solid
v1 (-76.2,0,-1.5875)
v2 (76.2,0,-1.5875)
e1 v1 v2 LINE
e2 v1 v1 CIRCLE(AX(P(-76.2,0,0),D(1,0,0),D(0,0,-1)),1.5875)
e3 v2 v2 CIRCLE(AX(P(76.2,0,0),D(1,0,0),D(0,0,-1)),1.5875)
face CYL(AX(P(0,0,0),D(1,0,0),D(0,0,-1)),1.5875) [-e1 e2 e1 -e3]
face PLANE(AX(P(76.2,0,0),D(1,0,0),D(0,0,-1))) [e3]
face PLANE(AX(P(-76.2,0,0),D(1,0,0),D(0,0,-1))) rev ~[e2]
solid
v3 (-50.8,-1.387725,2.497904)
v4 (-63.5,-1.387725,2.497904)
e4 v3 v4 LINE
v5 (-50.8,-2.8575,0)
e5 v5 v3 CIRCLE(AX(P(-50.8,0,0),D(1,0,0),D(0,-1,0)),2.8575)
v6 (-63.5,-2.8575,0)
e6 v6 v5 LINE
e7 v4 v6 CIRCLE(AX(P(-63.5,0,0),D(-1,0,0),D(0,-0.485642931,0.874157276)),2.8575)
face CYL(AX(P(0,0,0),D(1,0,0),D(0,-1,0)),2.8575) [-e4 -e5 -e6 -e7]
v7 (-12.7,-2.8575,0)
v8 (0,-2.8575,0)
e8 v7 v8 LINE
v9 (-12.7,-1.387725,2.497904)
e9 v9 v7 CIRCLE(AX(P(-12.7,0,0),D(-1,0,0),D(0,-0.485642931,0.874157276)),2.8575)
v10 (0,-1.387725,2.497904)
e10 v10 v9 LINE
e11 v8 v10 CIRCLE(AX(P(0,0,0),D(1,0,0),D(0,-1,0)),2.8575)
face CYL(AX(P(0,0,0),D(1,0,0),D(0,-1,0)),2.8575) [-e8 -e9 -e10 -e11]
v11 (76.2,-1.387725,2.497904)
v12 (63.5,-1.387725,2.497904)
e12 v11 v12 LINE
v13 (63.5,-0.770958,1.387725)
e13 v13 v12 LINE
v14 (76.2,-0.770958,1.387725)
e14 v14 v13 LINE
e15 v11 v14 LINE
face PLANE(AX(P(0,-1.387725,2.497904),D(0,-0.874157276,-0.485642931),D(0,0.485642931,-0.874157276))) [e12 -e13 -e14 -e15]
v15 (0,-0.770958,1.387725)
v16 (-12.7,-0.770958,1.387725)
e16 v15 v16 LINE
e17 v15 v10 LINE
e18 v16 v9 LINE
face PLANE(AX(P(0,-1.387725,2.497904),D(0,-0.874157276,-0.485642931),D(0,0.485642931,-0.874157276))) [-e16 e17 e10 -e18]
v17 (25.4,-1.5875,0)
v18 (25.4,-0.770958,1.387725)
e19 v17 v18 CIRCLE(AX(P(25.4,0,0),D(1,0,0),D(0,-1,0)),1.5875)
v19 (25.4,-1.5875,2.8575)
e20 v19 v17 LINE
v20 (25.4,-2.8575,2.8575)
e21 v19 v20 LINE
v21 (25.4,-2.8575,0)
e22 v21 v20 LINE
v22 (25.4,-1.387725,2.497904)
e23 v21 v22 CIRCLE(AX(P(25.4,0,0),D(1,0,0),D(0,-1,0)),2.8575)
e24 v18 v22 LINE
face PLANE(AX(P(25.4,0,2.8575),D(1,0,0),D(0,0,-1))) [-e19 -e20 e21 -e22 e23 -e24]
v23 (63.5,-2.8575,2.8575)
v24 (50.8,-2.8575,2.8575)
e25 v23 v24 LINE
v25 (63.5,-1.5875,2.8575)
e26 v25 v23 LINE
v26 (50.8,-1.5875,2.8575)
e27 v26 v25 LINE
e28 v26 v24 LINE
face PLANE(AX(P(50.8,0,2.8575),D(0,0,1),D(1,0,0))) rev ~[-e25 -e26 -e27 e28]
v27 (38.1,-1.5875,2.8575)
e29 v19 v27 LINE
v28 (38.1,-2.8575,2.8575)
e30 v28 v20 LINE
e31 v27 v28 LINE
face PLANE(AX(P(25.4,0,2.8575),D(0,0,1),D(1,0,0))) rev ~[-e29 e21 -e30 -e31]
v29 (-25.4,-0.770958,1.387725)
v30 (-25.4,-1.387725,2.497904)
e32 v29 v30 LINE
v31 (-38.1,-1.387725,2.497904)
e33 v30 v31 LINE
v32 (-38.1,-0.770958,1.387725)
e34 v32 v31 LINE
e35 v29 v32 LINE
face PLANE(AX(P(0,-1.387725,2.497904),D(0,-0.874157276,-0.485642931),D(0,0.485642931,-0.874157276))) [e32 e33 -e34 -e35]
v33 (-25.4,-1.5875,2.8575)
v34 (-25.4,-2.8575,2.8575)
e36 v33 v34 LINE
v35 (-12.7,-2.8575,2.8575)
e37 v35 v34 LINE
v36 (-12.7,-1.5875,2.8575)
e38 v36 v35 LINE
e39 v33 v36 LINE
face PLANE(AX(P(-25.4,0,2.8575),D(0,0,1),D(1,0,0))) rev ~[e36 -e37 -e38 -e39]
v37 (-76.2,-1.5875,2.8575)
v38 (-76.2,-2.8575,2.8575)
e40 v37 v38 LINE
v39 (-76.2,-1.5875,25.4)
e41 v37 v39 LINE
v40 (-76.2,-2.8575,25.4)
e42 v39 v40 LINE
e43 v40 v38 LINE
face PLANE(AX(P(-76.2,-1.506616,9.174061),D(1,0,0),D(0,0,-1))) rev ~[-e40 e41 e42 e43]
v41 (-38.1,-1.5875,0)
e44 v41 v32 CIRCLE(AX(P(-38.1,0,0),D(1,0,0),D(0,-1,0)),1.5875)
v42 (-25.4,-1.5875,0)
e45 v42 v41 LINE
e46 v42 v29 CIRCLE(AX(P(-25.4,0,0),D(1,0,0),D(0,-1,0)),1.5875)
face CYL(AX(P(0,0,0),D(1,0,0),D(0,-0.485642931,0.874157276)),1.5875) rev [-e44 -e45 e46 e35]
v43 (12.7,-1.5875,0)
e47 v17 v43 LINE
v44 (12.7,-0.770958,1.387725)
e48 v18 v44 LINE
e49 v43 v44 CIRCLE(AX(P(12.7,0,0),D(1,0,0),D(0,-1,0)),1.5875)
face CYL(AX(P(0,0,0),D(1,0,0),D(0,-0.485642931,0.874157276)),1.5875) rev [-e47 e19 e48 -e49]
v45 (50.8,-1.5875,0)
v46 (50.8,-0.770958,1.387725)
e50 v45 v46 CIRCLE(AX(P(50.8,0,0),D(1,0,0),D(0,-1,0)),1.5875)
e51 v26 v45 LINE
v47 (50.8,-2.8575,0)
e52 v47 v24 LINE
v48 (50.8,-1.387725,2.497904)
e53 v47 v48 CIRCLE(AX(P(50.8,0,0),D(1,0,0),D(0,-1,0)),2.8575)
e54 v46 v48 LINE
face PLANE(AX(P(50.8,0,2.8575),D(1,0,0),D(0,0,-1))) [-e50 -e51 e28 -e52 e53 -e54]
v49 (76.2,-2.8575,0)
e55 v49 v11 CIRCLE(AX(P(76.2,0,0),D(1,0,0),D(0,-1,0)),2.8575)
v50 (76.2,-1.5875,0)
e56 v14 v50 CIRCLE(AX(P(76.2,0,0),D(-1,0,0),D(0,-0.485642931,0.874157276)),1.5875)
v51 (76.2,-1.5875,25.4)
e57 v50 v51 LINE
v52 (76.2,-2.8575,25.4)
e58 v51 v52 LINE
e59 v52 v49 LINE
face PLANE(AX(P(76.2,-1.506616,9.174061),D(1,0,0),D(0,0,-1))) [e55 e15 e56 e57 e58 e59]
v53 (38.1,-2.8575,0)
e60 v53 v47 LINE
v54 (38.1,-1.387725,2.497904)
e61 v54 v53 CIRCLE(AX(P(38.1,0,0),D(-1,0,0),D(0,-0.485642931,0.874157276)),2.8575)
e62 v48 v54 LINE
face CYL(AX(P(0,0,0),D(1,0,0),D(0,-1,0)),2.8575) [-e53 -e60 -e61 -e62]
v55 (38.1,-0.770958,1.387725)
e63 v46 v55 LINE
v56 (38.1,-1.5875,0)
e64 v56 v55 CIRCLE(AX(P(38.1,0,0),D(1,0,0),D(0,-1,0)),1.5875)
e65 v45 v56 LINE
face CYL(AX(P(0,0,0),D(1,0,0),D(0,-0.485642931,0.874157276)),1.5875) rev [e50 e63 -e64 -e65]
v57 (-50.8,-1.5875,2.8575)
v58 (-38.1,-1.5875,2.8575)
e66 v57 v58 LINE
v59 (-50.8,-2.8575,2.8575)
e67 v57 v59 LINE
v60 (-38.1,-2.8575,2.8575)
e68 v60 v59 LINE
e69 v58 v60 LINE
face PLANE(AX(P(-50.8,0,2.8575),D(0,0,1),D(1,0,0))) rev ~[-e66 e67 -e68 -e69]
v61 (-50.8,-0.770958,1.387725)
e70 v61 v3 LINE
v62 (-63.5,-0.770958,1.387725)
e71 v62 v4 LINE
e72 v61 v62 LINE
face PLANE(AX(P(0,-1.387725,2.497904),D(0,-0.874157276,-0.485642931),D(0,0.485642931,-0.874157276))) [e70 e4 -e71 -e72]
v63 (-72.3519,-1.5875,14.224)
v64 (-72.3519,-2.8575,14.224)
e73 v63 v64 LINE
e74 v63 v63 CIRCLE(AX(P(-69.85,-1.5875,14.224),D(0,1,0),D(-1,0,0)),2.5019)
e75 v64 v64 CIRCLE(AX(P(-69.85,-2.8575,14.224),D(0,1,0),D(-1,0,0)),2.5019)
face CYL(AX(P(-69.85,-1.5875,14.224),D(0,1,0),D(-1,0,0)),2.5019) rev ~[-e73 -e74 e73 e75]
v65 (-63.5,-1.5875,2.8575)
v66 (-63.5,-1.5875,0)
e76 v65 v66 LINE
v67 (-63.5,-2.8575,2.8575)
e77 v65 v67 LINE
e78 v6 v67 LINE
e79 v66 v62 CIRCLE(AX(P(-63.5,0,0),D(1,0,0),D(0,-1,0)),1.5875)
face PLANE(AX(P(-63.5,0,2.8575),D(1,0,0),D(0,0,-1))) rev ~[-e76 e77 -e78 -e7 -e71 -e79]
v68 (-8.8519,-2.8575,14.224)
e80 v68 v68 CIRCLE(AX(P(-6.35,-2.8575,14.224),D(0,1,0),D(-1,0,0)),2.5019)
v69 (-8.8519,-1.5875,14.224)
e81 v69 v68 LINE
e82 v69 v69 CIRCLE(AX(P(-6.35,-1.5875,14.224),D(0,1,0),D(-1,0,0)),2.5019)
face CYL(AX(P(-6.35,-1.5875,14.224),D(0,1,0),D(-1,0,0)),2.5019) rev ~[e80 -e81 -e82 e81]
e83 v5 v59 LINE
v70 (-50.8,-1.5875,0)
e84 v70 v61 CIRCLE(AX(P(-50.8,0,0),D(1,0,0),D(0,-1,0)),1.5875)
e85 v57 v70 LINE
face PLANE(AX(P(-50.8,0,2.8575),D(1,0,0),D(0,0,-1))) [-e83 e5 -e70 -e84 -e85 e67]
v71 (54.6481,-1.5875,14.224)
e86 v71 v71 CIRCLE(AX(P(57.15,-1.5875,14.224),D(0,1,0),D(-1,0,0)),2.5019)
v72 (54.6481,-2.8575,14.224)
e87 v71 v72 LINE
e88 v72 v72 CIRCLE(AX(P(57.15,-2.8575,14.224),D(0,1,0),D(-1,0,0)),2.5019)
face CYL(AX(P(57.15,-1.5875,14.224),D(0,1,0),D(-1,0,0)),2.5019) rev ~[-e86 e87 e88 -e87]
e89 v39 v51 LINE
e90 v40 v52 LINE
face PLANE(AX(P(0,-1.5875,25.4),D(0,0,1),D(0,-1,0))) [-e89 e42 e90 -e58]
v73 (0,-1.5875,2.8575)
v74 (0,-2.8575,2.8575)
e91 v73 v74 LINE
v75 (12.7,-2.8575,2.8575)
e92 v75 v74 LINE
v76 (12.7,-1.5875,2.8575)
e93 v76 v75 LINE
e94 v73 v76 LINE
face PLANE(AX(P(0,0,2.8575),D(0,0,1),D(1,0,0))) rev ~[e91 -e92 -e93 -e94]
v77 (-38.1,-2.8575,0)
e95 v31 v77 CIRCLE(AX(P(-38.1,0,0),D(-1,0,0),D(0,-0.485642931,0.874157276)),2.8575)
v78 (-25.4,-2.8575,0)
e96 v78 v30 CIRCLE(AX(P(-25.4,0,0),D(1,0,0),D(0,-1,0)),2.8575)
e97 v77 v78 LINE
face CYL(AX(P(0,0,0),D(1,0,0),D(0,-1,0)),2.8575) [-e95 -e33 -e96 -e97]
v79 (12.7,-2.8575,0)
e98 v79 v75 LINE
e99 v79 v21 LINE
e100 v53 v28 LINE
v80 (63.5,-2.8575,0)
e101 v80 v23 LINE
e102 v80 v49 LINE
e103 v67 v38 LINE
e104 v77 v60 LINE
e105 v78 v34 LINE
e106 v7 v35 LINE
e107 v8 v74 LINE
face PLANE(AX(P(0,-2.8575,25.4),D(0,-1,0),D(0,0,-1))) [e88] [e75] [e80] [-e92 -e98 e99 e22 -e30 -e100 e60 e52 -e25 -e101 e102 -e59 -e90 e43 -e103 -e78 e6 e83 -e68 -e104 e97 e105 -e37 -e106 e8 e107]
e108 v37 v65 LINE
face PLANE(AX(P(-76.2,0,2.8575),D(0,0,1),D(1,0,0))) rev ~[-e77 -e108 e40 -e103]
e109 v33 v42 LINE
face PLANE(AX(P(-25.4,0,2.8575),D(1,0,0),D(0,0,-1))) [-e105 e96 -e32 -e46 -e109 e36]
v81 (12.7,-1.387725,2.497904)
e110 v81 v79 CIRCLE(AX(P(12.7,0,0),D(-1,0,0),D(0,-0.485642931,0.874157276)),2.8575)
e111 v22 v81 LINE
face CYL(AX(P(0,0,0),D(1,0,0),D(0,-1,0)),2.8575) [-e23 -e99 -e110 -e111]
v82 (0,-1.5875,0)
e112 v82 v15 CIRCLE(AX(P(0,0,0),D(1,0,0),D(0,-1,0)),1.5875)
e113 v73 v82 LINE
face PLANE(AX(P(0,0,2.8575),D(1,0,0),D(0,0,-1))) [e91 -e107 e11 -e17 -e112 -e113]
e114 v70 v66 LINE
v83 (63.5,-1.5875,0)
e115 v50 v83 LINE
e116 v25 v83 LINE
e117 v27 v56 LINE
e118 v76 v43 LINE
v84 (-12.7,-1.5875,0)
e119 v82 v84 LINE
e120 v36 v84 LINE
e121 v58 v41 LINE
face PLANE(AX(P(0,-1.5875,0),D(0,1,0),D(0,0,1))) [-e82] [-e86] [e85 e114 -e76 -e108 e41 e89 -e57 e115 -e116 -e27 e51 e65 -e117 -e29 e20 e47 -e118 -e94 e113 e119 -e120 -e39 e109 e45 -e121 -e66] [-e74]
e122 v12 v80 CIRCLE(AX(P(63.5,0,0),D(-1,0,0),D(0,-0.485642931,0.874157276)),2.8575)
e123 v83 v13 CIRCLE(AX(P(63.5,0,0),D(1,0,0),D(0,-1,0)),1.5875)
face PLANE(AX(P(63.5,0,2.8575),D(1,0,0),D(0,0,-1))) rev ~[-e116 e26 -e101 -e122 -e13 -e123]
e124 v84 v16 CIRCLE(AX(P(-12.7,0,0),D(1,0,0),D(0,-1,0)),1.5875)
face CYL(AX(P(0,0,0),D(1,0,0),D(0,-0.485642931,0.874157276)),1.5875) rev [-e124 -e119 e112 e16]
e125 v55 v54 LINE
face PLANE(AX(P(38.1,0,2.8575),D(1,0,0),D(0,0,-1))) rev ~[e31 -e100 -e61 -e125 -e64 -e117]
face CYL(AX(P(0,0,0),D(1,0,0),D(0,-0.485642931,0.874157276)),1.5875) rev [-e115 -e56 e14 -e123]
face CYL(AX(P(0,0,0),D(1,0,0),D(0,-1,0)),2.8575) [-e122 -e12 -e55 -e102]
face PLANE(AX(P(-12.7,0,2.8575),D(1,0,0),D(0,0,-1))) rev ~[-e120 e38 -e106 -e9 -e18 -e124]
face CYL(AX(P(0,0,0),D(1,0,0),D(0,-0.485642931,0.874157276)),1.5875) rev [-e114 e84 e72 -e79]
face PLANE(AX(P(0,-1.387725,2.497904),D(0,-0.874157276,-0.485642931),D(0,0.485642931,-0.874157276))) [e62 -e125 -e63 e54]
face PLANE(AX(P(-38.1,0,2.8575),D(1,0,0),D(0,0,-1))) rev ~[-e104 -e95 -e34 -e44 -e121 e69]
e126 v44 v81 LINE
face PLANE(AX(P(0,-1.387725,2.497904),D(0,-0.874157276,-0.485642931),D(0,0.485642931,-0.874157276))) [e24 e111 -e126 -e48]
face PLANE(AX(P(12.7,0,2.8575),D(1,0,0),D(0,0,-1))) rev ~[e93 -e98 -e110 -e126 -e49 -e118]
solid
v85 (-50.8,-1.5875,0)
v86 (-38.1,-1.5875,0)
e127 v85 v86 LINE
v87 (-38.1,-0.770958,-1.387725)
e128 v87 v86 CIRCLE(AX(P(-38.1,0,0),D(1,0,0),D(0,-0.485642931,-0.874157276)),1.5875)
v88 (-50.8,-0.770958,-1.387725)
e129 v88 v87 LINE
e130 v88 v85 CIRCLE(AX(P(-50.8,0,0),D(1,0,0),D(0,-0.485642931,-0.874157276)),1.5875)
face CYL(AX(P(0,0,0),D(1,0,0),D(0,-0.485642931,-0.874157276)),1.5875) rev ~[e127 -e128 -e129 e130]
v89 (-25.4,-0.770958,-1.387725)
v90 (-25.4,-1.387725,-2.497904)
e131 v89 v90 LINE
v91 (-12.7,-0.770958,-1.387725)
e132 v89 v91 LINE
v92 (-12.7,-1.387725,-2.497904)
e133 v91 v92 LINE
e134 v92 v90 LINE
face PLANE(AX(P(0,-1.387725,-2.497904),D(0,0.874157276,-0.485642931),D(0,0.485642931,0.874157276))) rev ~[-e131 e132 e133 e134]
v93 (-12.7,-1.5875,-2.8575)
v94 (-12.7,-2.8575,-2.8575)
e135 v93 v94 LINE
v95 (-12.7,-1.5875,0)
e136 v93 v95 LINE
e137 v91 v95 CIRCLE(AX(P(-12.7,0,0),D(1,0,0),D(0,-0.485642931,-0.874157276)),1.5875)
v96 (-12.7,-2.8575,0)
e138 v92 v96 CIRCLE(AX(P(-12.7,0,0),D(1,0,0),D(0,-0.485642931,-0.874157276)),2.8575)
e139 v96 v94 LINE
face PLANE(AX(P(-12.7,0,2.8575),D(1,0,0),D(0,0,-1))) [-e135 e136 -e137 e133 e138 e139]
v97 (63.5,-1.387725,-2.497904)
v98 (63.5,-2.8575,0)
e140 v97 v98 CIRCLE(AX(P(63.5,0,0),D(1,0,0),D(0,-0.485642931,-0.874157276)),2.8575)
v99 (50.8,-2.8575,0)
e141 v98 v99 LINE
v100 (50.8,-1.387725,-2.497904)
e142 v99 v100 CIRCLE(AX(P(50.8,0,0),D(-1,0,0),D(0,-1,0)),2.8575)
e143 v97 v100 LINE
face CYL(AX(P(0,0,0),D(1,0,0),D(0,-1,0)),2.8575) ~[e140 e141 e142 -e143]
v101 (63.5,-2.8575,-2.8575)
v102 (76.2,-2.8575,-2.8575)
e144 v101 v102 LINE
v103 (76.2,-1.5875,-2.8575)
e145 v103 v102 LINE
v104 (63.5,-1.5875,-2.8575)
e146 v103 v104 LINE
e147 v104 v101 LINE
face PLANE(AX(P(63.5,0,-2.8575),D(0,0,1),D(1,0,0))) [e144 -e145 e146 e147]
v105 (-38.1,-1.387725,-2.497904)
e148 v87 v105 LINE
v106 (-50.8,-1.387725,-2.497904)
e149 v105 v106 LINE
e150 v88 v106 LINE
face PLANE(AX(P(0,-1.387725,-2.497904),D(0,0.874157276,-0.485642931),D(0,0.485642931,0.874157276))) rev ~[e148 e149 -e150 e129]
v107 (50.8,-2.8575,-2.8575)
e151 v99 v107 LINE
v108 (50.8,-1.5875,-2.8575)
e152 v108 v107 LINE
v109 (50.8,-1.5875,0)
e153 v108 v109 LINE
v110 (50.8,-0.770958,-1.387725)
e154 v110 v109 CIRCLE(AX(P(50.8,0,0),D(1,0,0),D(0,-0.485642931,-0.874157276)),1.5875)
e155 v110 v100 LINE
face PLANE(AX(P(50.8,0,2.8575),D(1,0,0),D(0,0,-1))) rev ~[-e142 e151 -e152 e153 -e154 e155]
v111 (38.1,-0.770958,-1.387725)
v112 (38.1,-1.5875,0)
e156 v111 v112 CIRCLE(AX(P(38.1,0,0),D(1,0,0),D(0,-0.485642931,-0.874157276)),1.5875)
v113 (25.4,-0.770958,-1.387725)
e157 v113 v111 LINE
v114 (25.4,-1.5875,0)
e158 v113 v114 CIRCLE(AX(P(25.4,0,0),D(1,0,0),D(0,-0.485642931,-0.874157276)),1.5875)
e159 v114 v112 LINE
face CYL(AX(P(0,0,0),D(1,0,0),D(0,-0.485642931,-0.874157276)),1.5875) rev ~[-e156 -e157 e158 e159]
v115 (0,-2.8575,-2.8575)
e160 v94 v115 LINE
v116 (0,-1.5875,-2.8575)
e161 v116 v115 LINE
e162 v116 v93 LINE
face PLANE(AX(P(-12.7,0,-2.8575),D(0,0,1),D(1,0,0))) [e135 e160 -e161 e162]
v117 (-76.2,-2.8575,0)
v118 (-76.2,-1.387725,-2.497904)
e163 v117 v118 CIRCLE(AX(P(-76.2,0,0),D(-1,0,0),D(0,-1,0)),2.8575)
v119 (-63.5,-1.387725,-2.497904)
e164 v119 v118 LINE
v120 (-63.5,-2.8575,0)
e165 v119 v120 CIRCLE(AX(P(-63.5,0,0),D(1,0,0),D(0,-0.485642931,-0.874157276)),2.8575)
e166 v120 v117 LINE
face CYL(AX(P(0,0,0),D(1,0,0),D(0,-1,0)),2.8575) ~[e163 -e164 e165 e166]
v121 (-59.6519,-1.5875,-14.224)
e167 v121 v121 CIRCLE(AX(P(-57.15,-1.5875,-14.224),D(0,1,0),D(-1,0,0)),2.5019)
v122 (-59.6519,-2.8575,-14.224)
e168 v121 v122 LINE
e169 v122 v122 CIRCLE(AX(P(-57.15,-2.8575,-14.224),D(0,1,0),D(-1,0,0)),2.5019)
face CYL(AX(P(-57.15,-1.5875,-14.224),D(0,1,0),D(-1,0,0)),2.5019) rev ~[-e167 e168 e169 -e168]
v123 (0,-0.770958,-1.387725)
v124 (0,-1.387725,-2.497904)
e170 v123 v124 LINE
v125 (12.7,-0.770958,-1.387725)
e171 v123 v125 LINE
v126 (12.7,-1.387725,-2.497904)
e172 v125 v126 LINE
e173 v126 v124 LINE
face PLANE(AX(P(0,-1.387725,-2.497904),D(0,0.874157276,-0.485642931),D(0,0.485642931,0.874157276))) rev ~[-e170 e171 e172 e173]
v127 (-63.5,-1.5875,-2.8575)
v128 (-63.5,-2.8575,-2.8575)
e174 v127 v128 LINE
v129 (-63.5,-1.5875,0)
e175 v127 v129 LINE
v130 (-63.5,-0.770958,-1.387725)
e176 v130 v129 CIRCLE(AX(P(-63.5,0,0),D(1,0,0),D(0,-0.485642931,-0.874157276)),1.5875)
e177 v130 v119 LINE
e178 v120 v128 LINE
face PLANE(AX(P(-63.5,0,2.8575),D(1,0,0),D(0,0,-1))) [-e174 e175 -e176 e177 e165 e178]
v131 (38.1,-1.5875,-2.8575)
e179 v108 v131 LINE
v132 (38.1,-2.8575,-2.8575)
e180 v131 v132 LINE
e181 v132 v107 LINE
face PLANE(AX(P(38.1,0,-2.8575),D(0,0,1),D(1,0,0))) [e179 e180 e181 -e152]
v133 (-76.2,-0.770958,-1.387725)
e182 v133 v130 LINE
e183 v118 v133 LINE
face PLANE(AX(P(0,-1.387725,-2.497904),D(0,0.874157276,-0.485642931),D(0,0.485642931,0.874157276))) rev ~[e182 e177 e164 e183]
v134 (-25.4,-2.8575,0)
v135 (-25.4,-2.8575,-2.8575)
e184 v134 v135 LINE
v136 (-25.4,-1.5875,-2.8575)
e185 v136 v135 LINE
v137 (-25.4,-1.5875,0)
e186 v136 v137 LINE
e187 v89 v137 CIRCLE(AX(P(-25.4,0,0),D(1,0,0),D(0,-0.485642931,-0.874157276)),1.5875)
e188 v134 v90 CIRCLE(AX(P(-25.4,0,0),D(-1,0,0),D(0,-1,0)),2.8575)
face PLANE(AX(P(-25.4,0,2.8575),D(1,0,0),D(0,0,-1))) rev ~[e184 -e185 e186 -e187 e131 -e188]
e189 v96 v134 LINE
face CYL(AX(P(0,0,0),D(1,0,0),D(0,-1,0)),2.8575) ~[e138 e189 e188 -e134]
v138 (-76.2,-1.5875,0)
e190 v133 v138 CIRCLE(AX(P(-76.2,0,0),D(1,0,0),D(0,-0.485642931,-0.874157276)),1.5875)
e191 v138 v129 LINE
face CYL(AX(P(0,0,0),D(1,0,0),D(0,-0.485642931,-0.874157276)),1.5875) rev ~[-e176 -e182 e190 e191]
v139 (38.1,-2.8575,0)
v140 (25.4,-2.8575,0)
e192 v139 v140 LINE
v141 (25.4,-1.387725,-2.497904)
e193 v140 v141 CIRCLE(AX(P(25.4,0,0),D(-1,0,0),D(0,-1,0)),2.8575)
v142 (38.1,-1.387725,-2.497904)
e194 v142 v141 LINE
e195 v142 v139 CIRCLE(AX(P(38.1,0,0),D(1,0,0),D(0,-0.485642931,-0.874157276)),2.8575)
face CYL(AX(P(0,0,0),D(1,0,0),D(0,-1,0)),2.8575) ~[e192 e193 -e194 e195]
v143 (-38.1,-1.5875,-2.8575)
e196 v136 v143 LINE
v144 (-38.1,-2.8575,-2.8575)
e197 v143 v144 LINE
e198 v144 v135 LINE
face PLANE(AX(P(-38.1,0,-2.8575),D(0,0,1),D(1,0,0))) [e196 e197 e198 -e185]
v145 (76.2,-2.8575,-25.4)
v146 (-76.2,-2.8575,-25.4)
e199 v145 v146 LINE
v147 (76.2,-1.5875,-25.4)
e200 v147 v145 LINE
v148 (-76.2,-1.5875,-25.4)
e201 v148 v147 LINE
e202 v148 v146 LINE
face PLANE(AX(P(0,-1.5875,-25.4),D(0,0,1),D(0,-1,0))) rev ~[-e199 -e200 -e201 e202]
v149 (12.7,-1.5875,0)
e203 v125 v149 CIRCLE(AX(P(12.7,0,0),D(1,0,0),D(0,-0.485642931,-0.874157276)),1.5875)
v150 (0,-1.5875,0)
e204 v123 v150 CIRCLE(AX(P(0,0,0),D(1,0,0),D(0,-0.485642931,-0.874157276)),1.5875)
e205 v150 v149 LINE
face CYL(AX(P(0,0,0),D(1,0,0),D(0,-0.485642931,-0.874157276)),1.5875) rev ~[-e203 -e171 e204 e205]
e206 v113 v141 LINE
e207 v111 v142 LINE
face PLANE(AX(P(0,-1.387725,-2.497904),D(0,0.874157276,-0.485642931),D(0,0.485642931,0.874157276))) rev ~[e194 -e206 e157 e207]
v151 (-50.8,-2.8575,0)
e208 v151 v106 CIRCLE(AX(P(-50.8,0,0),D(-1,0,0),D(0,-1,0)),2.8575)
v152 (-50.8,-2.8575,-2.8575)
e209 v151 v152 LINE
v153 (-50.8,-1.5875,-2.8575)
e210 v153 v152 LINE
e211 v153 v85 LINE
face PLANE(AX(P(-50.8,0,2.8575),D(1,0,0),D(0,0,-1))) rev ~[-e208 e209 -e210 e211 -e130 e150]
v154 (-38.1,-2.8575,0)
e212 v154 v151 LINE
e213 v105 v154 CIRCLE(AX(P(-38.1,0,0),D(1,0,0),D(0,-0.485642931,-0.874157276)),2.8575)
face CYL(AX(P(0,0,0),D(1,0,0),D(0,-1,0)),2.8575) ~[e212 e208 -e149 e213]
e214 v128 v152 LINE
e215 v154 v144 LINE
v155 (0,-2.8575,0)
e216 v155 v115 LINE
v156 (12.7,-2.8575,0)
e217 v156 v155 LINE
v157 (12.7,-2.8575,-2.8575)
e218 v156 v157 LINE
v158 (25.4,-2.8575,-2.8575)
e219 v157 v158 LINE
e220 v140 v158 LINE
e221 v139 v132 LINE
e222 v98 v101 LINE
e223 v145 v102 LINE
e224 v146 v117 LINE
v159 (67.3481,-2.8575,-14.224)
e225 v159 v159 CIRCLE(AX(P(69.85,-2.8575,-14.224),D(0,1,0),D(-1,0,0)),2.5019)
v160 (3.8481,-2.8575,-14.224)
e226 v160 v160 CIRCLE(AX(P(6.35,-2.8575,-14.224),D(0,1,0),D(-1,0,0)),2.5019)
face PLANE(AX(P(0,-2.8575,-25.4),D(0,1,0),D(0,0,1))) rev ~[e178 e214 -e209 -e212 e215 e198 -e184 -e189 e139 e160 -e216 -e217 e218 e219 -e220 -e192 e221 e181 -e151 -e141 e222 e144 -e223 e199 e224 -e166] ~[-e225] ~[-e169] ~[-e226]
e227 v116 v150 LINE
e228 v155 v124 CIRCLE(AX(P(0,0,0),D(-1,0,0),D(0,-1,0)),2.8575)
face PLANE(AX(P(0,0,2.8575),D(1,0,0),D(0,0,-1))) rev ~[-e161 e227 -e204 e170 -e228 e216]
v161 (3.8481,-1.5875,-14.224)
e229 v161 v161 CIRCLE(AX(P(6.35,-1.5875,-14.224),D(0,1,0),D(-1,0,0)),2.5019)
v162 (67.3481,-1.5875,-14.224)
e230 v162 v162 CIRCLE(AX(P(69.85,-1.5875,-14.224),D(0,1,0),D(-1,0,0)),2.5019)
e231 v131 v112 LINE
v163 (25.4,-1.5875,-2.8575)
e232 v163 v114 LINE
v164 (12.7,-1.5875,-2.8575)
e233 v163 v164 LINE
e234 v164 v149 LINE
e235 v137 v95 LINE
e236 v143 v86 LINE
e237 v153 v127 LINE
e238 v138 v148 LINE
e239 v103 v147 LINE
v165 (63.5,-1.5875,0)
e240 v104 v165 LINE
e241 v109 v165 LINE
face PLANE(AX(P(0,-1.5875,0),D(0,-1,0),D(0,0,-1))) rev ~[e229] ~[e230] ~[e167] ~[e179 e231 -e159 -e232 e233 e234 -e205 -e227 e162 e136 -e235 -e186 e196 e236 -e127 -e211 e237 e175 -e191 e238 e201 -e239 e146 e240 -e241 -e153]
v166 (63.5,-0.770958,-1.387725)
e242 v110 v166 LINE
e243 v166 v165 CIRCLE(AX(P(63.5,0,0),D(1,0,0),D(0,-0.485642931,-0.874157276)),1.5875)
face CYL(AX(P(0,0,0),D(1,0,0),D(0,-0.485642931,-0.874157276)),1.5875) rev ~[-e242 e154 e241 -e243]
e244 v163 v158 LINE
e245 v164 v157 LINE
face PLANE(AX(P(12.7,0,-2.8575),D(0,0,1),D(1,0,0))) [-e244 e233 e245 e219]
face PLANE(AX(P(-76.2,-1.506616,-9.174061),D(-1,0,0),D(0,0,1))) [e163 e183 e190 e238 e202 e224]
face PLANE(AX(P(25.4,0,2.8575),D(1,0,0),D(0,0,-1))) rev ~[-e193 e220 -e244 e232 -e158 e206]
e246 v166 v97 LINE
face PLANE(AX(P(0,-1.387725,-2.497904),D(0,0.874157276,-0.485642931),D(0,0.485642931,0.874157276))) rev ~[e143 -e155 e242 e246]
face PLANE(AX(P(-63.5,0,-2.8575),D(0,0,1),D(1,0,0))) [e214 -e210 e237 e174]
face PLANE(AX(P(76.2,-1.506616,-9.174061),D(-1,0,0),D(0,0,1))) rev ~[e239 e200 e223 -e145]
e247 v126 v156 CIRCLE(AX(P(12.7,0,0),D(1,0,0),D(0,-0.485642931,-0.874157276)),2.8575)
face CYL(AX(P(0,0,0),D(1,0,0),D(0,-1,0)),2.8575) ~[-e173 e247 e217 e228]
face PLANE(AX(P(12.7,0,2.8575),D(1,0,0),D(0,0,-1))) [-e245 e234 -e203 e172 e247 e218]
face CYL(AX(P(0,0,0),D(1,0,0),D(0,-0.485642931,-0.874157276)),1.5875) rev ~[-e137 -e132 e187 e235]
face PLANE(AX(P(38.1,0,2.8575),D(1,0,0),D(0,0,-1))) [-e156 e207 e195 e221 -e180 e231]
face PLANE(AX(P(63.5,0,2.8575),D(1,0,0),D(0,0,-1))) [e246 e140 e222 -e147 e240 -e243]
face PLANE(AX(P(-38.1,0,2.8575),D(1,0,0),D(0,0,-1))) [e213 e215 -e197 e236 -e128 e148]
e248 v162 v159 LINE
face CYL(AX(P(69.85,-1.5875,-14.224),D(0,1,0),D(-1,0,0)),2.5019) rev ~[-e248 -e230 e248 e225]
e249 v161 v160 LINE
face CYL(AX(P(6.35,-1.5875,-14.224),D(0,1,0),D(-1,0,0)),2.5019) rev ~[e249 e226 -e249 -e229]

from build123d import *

# Parameters (mm, degrees)
LEFT_LEAF_DEPTH         = 76.2
SKETCH2_W               = 12.7
SKETCH2_H               = 5.715
CUT_EXTRUDE1_DEPTH      = 3.8575
CUT_EXTRUDE1_DEPTH_BACK = 3.8575
RIGHT_LEAF_DEPTH        = 76.2
SKETCH9_W               = 12.7
SKETCH9_H               = 5.715
CUT_EXTRUDE2_DEPTH      = 3.8575
CUT_EXTRUDE2_DEPTH_BACK = 3.8575
SKETCH10_R              = 1.5875
EXTRUDE1_DEPTH          = 76.2
SKETCH11_R              = 2.5019
CUT_EXTRUDE3_DEPTH      = 2.27


with BuildPart() as part:
    # Sketch1 → Left Leaf (new body, symmetric)
    with BuildSketch(Plane(origin=(0, 0, 0), x_dir=(0, 0, -1), z_dir=(1, 0, 0))):
        with BuildLine():
            Line((0, -1.5875), (-25.4, -1.5875))
            Line((-25.4, -1.5875), (-25.4, -2.8575))
            Line((-25.4, -2.8575), (0, -2.8575))
            ThreePointArc((0, -2.8575), (1.449117488, 2.462796125), (-2.497904417, -1.387724676))
            Line((-2.497904417, -1.387724676), (-1.387724676, -0.770958153))
            ThreePointArc((-1.387724676, -0.770958153), (0.805065271, 1.36822007), (0, -1.5875))
        make_face()
    extrude(amount=LEFT_LEAF_DEPTH, both=True)

    # Sketch2 → Cut-Extrude1 (cut, two sides)
    with BuildSketch(Plane(origin=(0, 0, 0), x_dir=(1, 0, 0), z_dir=(0, 1, 0))) as cut_extrude1_sk:
        with Locations((-44.45, 0)):
            Rectangle(SKETCH2_W, SKETCH2_H)
        with Locations((-69.85, 0)):
            Rectangle(SKETCH2_W, SKETCH2_H)
        with Locations((57.15, 0)):
            Rectangle(SKETCH2_W, SKETCH2_H)
        with Locations((-19.05, 0)):
            Rectangle(SKETCH2_W, SKETCH2_H)
        with Locations((6.35, 0)):
            Rectangle(SKETCH2_W, SKETCH2_H)
        with Locations((31.75, 0)):
            Rectangle(SKETCH2_W, SKETCH2_H)
    extrude(amount=CUT_EXTRUDE1_DEPTH, mode=Mode.SUBTRACT)
    extrude(cut_extrude1_sk.sketch, amount=-CUT_EXTRUDE1_DEPTH_BACK, mode=Mode.SUBTRACT)


with BuildPart() as body_2:
    # Sketch3 → Right Leaf (new body, symmetric)
    with BuildSketch(Plane(origin=(0, 0, 0), x_dir=(0, 0, -1), z_dir=(1, 0, 0))):
        with BuildLine():
            Line((25.4, -1.5875), (25.4, -2.8575))
            Line((25.4, -2.8575), (0, -2.8575))
            ThreePointArc((0, -2.8575), (-1.449117488, 2.462796125), (2.497904417, -1.387724676))
            Line((2.497904417, -1.387724676), (1.387724676, -0.770958153))
            ThreePointArc((1.387724676, -0.770958153), (-0.805065271, 1.36822007), (0, -1.5875))
            Line((0, -1.5875), (25.4, -1.5875))
        make_face()
    extrude(amount=RIGHT_LEAF_DEPTH, both=True)

    # Sketch9 → Cut-Extrude2 (cut, two sides)
    with BuildSketch(Plane(origin=(0, 0, 0), x_dir=(1, 0, 0), z_dir=(0, 1, 0))) as cut_extrude2_sk:
        with Locations((-57.15, 0)):
            Rectangle(SKETCH9_W, SKETCH9_H)
        with Locations((-31.75, 0)):
            Rectangle(SKETCH9_W, SKETCH9_H)
        with Locations((-6.35, 0)):
            Rectangle(SKETCH9_W, SKETCH9_H)
        with Locations((19.05, 0)):
            Rectangle(SKETCH9_W, SKETCH9_H)
        with Locations((44.45, 0)):
            Rectangle(SKETCH9_W, SKETCH9_H)
        with Locations((69.85, 0)):
            Rectangle(SKETCH9_W, SKETCH9_H)
    extrude(amount=CUT_EXTRUDE2_DEPTH, mode=Mode.SUBTRACT)
    extrude(cut_extrude2_sk.sketch, amount=-CUT_EXTRUDE2_DEPTH_BACK, mode=Mode.SUBTRACT)


with BuildPart() as body_3:
    # Sketch10 → Extrude1 (new body, symmetric)
    with BuildSketch(Plane(origin=(0, 0, 0), x_dir=(0, 0, -1), z_dir=(1, 0, 0))):
        Circle(SKETCH10_R)
    extrude(amount=EXTRUDE1_DEPTH, both=True)


with BuildPart() as cut_extrude3_tool:
    # Sketch11 → Cut-Extrude3 (new body, through all)
    with BuildSketch(Plane(origin=(0, -1.5875, 0), x_dir=(-1, 0, 0), z_dir=(0, 1, 0))):
        with Locations((-69.85, -14.224)):
            Circle(SKETCH11_R)
        with Locations((-57.15, 14.224)):
            Circle(SKETCH11_R)
        with Locations((-6.35, -14.224)):
            Circle(SKETCH11_R)
        with Locations((6.35, 14.224)):
            Circle(SKETCH11_R)
        with Locations((69.85, 14.224)):
            Circle(SKETCH11_R)
        with Locations((57.15, -14.224)):
            Circle(SKETCH11_R)
    extrude(amount=-CUT_EXTRUDE3_DEPTH)


with BuildPart() as part_1:
    add(part.part)

    # Cut-Extrude3: cut by cut_extrude3_tool
    add(cut_extrude3_tool.part, mode=Mode.SUBTRACT)


with BuildPart() as body_2_1:
    add(body_2.part)

    # Cut-Extrude3: cut by cut_extrude3_tool
    add(cut_extrude3_tool.part, mode=Mode.SUBTRACT)


solid = Compound([body_3.part, part_1.part, body_2_1.part])
